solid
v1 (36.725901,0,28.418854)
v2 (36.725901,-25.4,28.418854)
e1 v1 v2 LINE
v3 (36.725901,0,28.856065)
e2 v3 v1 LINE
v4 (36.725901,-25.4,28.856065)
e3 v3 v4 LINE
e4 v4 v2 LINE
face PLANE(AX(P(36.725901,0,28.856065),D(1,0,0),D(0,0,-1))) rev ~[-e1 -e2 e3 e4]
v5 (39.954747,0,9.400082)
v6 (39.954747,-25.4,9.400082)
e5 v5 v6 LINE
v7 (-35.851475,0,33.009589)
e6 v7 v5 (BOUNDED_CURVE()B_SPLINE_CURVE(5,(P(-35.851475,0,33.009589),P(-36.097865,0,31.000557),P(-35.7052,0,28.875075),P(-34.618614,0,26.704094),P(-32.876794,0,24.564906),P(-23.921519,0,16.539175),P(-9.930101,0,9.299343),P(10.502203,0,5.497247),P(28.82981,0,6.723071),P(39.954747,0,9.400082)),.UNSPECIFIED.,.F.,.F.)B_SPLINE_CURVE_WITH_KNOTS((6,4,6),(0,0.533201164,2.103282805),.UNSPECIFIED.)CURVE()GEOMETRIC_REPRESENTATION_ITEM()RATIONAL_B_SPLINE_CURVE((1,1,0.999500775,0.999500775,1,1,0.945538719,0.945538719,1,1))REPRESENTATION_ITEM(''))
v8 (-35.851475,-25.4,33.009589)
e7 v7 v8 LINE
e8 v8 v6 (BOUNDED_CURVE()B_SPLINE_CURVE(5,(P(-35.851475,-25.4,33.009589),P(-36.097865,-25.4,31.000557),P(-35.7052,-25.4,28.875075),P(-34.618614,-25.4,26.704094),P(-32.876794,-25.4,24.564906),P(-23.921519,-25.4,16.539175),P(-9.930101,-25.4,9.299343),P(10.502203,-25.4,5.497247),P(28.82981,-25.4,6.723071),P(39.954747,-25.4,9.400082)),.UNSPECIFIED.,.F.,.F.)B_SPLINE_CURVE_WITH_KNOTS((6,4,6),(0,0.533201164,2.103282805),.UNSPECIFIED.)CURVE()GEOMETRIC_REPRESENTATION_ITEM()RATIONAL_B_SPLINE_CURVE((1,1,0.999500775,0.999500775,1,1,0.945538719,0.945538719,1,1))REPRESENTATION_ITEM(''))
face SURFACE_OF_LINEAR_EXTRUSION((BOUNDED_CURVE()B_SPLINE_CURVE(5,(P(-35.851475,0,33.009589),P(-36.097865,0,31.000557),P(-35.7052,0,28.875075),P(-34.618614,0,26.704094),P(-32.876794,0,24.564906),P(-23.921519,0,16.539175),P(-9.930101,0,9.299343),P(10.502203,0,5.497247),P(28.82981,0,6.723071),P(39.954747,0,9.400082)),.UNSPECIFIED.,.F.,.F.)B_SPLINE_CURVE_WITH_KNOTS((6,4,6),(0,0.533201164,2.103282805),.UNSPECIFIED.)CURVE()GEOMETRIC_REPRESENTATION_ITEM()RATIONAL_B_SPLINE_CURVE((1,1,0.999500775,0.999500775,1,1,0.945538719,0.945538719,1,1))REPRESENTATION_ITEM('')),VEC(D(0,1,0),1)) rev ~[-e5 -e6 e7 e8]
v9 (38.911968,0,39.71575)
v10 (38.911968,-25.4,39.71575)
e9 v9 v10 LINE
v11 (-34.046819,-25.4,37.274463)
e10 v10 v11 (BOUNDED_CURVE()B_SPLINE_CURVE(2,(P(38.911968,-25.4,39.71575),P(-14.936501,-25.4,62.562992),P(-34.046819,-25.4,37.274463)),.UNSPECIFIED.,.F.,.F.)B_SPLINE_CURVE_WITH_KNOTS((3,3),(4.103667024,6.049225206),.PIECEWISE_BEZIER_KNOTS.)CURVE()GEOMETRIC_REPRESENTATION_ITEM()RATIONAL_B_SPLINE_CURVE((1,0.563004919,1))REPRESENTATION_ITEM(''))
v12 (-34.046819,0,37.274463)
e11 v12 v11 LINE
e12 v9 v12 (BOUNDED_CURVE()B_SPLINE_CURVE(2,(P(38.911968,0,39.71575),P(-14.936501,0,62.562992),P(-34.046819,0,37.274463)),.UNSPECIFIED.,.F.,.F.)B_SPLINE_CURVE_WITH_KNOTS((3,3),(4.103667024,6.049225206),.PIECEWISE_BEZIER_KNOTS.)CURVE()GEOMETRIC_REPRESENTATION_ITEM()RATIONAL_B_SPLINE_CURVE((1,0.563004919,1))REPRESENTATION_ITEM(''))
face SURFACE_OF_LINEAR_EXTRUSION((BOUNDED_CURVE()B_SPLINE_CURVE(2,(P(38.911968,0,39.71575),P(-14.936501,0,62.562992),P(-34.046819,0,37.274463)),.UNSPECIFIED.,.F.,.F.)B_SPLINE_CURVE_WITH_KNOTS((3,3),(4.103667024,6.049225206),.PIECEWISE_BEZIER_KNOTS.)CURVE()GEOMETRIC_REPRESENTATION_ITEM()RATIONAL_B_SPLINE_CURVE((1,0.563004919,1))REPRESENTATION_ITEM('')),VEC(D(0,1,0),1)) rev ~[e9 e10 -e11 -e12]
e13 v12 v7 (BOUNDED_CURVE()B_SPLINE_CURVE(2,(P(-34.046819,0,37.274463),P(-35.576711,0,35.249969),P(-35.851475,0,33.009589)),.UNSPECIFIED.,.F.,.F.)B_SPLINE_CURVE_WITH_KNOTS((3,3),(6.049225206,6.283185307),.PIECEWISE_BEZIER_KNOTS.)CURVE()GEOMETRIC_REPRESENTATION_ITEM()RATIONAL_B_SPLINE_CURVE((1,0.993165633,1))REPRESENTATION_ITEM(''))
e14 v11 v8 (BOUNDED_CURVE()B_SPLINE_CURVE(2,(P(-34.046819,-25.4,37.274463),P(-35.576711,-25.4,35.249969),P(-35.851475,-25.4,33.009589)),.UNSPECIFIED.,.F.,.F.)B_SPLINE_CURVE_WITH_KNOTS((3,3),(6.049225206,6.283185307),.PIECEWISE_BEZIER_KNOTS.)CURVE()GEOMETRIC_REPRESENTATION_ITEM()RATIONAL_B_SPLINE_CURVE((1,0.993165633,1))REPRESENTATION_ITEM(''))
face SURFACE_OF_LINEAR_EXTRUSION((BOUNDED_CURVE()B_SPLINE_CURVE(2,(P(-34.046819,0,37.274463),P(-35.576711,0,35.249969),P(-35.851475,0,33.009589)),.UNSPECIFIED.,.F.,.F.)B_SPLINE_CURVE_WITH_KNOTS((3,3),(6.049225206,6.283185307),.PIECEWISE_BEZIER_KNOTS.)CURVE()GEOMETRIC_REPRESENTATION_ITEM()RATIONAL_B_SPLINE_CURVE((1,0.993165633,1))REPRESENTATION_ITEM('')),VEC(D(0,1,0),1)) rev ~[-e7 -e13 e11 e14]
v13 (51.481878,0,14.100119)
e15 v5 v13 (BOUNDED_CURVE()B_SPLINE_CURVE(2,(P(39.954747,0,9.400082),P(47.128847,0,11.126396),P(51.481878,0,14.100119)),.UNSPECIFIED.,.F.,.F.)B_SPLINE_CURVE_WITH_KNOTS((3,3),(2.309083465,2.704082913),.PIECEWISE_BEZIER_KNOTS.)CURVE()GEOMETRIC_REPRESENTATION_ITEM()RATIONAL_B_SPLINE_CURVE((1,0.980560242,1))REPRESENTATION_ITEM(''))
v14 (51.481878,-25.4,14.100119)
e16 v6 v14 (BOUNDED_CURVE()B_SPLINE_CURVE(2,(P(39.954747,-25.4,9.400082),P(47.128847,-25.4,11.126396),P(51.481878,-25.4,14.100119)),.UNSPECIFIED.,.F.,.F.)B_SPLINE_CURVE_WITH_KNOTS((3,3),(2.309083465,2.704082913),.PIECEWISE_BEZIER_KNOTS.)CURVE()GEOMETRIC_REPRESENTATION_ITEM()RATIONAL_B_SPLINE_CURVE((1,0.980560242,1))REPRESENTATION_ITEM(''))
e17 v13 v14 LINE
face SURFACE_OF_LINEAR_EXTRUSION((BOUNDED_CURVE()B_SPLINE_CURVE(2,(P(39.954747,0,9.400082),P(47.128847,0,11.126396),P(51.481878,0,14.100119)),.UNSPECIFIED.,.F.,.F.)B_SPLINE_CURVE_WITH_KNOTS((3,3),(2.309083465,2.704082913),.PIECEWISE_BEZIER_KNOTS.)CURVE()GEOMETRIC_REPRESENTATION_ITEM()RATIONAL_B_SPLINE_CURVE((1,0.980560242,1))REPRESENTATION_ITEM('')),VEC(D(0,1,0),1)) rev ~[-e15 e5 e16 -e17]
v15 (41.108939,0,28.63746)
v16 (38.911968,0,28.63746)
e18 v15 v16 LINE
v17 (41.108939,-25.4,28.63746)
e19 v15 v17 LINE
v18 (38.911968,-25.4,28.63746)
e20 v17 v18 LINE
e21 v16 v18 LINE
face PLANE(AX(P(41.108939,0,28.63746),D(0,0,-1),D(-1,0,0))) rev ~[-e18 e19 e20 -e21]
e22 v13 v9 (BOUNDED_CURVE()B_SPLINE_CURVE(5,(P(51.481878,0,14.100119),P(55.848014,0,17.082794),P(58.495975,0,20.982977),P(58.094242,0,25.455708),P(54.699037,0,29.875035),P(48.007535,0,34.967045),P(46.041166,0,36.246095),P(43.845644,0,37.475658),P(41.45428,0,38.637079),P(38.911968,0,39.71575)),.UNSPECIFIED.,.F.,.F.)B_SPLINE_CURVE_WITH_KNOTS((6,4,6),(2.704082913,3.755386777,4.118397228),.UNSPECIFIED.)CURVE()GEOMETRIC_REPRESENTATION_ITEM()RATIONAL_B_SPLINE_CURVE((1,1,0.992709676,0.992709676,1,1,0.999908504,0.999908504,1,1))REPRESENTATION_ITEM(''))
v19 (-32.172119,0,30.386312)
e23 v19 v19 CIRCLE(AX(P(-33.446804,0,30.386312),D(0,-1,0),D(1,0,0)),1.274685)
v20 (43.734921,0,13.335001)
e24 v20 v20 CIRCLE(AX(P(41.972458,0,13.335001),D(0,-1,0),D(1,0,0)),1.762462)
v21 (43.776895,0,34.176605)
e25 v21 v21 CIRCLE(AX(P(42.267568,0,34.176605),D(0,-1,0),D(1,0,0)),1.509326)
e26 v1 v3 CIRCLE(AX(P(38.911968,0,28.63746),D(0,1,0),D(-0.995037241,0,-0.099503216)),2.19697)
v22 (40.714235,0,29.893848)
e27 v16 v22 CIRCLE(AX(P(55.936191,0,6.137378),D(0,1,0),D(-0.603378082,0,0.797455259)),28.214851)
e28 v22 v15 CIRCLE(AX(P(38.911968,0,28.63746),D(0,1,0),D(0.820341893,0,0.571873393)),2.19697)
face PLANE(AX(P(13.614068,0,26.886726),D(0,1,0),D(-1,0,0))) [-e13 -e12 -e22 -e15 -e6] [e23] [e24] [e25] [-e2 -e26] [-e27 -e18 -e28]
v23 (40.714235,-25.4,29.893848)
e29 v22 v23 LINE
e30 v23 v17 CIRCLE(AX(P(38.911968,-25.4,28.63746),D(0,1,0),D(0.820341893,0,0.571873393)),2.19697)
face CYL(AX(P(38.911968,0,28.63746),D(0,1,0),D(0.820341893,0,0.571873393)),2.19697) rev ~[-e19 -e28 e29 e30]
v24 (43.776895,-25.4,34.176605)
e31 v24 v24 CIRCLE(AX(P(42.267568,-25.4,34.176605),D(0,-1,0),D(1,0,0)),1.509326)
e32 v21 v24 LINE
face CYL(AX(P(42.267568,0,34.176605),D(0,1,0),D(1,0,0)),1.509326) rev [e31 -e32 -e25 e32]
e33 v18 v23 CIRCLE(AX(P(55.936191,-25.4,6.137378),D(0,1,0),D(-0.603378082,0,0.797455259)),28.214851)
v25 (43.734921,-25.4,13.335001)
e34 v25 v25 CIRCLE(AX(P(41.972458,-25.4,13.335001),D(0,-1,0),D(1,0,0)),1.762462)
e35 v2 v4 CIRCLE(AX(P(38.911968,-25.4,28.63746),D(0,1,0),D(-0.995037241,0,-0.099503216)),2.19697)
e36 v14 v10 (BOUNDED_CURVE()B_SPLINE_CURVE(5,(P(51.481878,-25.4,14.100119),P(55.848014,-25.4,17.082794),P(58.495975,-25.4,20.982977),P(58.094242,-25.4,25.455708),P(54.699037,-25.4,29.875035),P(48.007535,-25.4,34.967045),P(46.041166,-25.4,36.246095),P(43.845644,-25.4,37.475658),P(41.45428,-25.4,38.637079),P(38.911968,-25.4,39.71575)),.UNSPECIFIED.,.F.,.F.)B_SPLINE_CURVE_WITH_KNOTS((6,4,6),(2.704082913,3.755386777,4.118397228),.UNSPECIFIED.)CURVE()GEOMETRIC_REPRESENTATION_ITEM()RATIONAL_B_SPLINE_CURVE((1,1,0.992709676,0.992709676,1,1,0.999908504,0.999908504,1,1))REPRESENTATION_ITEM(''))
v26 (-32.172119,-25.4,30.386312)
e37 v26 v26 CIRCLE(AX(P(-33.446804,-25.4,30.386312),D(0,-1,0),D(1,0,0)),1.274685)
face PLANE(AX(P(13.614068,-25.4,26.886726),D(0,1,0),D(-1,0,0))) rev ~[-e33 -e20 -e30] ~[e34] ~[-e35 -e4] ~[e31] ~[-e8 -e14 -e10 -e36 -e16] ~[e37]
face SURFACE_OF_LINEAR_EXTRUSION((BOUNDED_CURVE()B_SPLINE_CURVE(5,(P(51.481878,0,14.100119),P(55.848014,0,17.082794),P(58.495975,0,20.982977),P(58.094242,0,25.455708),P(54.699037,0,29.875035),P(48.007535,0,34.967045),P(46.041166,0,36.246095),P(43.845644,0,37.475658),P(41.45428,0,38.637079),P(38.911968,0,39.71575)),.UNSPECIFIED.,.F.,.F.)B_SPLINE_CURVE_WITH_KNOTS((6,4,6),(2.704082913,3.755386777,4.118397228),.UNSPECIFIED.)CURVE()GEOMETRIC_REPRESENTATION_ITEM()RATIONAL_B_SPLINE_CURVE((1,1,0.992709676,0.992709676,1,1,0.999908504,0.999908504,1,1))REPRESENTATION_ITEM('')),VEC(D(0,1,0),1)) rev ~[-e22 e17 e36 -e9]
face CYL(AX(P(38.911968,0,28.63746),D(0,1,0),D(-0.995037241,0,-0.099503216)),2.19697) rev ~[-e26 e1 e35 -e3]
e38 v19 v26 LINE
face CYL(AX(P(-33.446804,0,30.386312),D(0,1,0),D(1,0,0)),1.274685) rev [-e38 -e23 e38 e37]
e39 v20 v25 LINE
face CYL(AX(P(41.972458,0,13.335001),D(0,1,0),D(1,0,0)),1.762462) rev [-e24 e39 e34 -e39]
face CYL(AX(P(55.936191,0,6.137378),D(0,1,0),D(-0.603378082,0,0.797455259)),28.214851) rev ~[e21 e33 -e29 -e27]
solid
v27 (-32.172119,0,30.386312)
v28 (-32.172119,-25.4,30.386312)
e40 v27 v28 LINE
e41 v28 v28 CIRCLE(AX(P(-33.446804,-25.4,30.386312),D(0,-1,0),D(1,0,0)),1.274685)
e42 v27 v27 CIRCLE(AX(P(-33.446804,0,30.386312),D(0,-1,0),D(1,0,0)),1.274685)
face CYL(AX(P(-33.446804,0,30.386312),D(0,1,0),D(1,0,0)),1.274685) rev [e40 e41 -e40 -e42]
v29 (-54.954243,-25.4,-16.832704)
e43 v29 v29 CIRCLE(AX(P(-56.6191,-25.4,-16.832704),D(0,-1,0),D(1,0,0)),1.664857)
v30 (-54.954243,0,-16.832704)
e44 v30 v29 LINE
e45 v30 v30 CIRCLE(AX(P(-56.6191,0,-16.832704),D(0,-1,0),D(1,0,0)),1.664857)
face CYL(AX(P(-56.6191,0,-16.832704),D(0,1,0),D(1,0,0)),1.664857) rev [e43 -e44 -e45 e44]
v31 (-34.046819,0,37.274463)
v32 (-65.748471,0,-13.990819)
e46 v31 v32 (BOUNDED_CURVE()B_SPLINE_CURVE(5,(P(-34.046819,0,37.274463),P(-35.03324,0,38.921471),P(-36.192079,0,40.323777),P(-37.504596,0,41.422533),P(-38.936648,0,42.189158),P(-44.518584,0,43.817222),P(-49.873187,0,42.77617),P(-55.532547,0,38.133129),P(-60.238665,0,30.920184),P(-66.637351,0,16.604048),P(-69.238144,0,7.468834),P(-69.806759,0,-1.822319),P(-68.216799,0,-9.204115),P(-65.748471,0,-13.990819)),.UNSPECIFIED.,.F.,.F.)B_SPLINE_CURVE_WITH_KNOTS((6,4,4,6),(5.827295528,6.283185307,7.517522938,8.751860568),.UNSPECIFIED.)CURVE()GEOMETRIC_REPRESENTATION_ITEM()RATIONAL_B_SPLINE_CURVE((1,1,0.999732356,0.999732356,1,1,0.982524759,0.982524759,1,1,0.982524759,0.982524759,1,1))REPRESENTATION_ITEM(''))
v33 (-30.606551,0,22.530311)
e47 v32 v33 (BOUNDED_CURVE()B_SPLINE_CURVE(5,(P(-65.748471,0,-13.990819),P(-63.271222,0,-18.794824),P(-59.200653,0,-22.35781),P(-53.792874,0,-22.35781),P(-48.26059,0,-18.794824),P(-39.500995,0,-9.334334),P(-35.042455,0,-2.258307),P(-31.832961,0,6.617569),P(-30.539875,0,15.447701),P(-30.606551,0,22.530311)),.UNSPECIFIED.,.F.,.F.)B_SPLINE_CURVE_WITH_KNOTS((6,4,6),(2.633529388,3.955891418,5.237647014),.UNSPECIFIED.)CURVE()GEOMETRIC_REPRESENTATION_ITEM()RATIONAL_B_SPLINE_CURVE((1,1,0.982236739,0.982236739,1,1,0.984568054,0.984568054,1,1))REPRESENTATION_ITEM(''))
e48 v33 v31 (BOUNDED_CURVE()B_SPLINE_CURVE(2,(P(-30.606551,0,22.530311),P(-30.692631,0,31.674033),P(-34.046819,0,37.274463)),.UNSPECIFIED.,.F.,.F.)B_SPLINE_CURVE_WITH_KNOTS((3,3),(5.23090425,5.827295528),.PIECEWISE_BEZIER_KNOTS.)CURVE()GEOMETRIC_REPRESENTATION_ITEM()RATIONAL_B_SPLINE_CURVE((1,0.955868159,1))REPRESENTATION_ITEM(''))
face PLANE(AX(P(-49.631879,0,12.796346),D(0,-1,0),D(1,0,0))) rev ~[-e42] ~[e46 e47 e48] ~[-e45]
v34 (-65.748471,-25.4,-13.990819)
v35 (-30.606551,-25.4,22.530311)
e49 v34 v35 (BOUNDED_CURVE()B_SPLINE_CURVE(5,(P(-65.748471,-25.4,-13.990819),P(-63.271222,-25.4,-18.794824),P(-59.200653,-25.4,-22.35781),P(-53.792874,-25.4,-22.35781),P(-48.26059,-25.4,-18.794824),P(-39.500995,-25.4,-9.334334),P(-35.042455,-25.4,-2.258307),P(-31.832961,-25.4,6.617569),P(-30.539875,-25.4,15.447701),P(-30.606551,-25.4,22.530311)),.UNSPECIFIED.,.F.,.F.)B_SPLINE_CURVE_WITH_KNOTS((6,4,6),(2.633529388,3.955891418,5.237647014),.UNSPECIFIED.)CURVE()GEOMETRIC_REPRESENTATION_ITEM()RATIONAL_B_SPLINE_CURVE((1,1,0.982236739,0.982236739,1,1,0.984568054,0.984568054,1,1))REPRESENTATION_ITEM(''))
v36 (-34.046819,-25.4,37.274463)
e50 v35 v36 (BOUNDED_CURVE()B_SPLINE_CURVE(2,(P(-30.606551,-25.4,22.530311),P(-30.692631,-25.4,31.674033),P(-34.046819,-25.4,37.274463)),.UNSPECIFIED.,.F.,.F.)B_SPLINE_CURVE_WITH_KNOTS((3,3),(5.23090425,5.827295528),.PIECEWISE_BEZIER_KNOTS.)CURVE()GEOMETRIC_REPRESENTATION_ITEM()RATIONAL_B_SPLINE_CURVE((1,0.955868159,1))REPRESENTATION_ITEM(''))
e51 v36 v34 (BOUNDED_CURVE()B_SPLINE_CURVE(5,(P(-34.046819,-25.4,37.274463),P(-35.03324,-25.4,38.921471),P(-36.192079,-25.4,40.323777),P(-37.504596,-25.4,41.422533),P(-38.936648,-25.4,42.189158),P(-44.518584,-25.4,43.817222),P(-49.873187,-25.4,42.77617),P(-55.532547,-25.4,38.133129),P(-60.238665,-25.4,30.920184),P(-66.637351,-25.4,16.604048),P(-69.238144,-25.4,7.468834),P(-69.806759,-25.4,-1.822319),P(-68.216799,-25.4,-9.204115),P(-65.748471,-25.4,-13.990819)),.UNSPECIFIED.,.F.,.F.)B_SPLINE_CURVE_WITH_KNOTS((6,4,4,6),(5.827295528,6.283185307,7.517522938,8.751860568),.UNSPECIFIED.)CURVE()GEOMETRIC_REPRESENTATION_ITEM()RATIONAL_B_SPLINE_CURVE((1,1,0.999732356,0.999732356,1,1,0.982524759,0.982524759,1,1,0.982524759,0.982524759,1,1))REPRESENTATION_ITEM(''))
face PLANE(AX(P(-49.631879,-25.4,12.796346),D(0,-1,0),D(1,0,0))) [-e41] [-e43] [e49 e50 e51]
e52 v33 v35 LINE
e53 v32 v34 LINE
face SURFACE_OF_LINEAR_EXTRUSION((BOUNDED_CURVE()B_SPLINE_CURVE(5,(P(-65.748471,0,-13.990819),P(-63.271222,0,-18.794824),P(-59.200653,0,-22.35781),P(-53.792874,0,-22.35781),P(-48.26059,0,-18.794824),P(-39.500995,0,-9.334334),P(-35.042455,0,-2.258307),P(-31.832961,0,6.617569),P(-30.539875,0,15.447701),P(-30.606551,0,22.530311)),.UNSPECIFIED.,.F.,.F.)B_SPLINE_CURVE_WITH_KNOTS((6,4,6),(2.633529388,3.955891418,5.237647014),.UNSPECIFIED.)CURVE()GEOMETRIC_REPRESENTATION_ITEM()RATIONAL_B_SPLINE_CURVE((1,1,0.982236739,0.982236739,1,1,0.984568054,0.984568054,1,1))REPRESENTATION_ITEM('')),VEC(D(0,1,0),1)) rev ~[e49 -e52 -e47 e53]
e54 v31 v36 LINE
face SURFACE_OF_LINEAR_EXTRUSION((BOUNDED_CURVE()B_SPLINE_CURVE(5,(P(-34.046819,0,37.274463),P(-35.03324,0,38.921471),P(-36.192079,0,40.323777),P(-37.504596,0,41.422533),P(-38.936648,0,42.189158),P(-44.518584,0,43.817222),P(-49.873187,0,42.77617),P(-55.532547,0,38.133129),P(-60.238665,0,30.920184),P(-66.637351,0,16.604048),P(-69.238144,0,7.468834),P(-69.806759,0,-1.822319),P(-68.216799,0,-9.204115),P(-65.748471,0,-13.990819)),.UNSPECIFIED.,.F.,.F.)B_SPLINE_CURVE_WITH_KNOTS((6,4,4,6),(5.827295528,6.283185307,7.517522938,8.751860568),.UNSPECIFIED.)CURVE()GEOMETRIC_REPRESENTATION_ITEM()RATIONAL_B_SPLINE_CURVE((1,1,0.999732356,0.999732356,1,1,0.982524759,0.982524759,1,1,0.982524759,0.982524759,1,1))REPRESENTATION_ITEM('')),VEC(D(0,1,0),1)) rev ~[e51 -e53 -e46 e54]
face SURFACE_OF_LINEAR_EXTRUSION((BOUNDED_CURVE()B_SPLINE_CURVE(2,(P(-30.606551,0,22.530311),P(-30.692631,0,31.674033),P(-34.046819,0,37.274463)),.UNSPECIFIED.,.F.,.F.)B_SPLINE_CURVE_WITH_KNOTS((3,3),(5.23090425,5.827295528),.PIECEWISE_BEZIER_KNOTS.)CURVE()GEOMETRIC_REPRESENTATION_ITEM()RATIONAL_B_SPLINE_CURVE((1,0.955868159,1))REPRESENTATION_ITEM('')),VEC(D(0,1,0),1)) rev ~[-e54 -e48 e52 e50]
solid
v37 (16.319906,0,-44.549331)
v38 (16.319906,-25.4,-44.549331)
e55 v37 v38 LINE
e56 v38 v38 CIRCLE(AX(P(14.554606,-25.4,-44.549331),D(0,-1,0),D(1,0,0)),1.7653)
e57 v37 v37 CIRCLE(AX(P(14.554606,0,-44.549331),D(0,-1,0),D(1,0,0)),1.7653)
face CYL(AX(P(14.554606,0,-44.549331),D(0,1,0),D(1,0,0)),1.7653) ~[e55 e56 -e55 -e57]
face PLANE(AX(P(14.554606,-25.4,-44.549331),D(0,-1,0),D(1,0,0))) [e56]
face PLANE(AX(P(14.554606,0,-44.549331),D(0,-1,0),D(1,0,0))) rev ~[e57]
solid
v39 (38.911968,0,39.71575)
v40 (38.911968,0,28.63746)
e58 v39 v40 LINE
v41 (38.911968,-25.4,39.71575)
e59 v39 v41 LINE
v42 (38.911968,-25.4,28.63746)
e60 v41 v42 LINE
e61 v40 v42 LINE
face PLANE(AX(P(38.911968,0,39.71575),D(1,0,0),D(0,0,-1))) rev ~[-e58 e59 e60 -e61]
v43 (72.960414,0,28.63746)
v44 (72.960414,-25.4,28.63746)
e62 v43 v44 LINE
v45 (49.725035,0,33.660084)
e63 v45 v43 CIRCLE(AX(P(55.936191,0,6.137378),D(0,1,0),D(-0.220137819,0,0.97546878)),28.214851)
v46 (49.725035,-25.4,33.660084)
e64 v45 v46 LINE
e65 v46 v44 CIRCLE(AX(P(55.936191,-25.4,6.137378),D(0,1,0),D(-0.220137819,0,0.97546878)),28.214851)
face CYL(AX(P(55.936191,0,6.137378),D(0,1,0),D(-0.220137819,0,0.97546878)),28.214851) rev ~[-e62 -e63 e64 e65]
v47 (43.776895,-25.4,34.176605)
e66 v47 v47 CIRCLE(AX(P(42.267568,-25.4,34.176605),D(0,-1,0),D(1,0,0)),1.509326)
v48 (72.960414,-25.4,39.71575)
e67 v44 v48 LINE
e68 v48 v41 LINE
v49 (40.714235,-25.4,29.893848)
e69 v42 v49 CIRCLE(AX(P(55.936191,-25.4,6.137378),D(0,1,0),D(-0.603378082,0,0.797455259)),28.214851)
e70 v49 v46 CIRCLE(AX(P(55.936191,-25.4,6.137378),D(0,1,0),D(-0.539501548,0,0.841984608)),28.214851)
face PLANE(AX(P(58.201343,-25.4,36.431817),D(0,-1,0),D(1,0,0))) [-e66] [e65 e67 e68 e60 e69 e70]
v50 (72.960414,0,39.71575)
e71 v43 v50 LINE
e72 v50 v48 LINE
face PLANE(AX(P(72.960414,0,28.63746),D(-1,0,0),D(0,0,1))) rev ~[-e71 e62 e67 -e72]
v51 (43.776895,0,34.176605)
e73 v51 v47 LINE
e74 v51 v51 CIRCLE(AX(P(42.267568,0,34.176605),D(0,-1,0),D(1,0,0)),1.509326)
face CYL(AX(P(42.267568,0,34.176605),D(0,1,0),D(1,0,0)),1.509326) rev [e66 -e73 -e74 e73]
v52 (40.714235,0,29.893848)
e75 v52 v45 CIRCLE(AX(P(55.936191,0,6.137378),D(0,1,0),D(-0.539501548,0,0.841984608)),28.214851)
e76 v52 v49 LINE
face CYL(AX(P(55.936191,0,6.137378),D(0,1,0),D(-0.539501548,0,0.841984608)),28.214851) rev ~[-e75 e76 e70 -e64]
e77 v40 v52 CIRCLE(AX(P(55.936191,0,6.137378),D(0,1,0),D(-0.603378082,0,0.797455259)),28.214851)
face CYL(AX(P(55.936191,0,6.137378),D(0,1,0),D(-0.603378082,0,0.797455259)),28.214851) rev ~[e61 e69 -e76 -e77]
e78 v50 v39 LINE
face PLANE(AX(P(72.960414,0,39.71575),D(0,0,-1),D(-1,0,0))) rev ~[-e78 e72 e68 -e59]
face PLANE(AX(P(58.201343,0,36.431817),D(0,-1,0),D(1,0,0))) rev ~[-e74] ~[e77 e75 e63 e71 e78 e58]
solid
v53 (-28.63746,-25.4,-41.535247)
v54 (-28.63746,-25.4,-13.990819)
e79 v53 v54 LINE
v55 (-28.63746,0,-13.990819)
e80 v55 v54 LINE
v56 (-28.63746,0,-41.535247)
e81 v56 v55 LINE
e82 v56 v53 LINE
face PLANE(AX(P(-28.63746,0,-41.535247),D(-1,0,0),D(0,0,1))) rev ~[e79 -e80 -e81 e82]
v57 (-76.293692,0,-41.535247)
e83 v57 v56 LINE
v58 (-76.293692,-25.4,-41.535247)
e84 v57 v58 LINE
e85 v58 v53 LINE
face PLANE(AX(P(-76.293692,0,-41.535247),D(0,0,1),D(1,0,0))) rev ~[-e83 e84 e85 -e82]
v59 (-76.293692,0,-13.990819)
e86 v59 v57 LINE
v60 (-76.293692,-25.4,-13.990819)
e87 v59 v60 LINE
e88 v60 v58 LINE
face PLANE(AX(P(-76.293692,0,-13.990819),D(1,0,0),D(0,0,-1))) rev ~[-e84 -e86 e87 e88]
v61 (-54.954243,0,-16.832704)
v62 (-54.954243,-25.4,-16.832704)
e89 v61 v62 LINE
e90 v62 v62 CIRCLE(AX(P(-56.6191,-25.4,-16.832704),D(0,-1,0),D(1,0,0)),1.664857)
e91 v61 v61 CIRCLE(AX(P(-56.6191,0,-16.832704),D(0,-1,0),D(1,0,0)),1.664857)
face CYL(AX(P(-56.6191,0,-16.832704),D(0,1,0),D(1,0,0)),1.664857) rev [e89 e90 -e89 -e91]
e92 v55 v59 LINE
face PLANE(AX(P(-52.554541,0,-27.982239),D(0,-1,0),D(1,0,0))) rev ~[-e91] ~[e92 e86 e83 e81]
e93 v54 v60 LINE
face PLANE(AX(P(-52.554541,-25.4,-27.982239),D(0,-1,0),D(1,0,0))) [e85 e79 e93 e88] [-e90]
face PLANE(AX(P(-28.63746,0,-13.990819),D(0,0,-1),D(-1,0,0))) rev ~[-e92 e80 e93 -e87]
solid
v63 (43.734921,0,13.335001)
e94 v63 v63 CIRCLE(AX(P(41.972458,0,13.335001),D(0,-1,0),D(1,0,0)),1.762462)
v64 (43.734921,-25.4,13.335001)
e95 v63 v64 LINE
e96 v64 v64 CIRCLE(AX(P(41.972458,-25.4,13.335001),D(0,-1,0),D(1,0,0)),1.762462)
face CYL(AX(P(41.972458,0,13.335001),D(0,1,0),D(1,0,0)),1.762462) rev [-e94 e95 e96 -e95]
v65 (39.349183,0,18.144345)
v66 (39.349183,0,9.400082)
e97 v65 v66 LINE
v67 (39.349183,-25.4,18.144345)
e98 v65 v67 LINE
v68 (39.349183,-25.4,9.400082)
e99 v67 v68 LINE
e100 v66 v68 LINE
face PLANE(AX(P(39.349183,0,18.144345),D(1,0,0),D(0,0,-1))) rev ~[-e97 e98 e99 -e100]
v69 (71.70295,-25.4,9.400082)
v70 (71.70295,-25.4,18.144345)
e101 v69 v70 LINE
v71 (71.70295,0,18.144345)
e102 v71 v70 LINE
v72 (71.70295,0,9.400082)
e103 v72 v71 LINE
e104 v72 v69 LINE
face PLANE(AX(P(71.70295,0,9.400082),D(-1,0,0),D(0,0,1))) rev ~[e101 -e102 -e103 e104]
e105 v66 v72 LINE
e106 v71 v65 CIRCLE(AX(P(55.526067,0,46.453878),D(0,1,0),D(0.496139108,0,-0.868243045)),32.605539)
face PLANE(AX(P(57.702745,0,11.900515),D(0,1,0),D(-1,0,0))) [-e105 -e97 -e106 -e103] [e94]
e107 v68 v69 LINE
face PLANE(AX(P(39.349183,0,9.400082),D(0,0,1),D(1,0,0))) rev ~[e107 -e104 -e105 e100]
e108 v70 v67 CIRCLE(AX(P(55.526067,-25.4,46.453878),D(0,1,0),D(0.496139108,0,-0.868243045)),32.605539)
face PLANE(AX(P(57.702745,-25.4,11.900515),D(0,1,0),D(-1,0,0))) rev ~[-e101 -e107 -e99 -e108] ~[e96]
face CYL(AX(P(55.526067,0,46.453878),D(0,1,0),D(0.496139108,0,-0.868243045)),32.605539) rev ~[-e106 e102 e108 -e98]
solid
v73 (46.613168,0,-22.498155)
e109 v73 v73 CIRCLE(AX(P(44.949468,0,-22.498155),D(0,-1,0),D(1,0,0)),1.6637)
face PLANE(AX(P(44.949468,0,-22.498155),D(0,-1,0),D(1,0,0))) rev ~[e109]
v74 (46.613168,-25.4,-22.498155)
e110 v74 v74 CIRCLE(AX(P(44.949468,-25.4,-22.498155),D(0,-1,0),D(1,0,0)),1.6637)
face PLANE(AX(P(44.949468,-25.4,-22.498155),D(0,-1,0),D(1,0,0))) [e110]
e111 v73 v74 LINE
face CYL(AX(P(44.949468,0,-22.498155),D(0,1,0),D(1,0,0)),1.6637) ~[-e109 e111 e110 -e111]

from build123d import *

# Parameters (mm, degrees)
F0_R     = 1.6648574253
F1_DEPTH = 25.4
F0_R_2   = 1.2746846195
F2_DEPTH = 25.4
F0_R_3   = 1.5093262789
F0_R_4   = 1.7624624991
F3_DEPTH = 25.4
F4_DEPTH = 25.4
F5_DEPTH = 25.4
F0_R_5   = 1.6637
F6_DEPTH = 25.4
F0_R_6   = 1.7653
F7_DEPTH = 25.4


with BuildPart() as f1:
    # F0 (on Front) → F1 (new body)
    with BuildSketch(Plane.XZ):
        with BuildLine():
            Line((-65.74847113, -13.9908194542), (-76.2936919928, -13.9908194542))
            Line((-76.2936919928, -13.9908194542), (-76.2936919928, -41.5352471173))
            Line((-76.2936919928, -41.5352471173), (-28.6374595016, -41.5352471173))
            Line((-28.6374595016, -41.5352471173), (-28.6374595016, -13.9908194542))
            Line((-28.6374595016, -13.9908194542), (-43.8124972207, -13.9908194542))
            add(Edge.make_bspline(
                [(-65.74847113, -13.9908194542), (-57.901801116, -29.2074724294), (-43.8124972207, -13.9908194542)],
                knots=[2.6335293878, 2.6335293878, 2.6335293878, 3.9558914178, 3.9558914178, 3.9558914178], degree=2, weights=[1, 0.7892675805, 1]))
        make_face()
        with BuildLine():
            Line((-43.8124972207, -13.9908194542), (-65.74847113, -13.9908194542))
            add(Edge.make_bspline(
                [(-65.74847113, -13.9908194542), (-57.901801116, -29.2074724294), (-43.8124972207, -13.9908194542)],
                knots=[2.6335293878, 2.6335293878, 2.6335293878, 3.9558914178, 3.9558914178, 3.9558914178], degree=2, weights=[1, 0.7892675805, 1]))
        make_face()
        with Locations((-56.6191002727, -16.8327037245)):
            Circle(F0_R, mode=Mode.SUBTRACT)
    extrude(amount=F1_DEPTH)


with BuildPart() as f2:
    # F0 (on Front) → F2 (new body)
    with BuildSketch(Plane.XZ):
        with BuildLine():
            add(Edge.make_bspline(
                [(-40.4422134161, 42.6282808185), (-53.3260877862, 46.3860779386), (-63.4380078396, 23.7621158368), (-73.5499278931, 1.138153735), (-65.74847113, -13.9908194542)],
                knots=[0, 0, 0, 1.3167646939, 1.3167646939, 2.6335293878, 2.6335293878, 2.6335293878], degree=2, weights=[1, 0.7909830078, 1, 0.7909830078, 1]))
            Line((-65.74847113, -13.9908194542), (-43.8124972207, -13.9908194542))
            add(Edge.make_bspline(
                [(-43.8124972207, -13.9908194542), (-30.39911729, 0.4958258156), (-30.6065511, 22.5303112299)],
                knots=[3.9558914178, 3.9558914178, 3.9558914178, 5.2309042501, 5.2309042501, 5.2309042501], degree=2, weights=[1, 0.8035824195, 1]))
            add(Edge.make_bspline(
                [(-35.8514748514, 33.0095887184), (-36.4900093054, 27.8030752059), (-30.6065511, 22.5303112299)],
                knots=[0, 0, 0, 0.5332011637, 0.5332011637, 0.5332011637], degree=2, weights=[1, 0.9646720576, 1]))
            add(Edge.make_bspline(
                [(-34.0468191814, 37.2744625047), (-35.5767113809, 35.2499685643), (-35.8514748514, 33.0095887184)],
                knots=[6.0492252063, 6.0492252063, 6.0492252063, 6.2831853072, 6.2831853072, 6.2831853072], degree=2, weights=[1, 0.9931656329, 1]))
            add(Edge.make_bspline(
                [(-34.0468191814, 37.2744625047), (-36.5783538888, 41.5013216611), (-40.4422134161, 42.6282808185)],
                knots=[5.8272955283, 5.8272955283, 5.8272955283, 6.2831853072, 6.2831853072, 6.2831853072], degree=2, weights=[1, 0.9741328576, 1]))
        make_face()
        with BuildLine():
            Line((-43.8124972207, -13.9908194542), (-65.74847113, -13.9908194542))
            add(Edge.make_bspline(
                [(-65.74847113, -13.9908194542), (-57.901801116, -29.2074724294), (-43.8124972207, -13.9908194542)],
                knots=[2.6335293878, 2.6335293878, 2.6335293878, 3.9558914178, 3.9558914178, 3.9558914178], degree=2, weights=[1, 0.7892675805, 1]))
        make_face()
        with Locations((-56.6191002727, -16.8327037245)):
            Circle(F0_R, mode=Mode.SUBTRACT)
        with BuildLine():
            add(Edge.make_bspline(
                [(-35.8514748514, 33.0095887184), (-36.4900093054, 27.8030752059), (-30.6065511, 22.5303112299)],
                knots=[0, 0, 0, 0.5332011637, 0.5332011637, 0.5332011637], degree=2, weights=[1, 0.9646720576, 1]))
            add(Edge.make_bspline(
                [(-30.6065511, 22.5303112299), (-30.6926305757, 31.6740325446), (-34.0468191814, 37.2744625047)],
                knots=[5.2309042501, 5.2309042501, 5.2309042501, 5.8272955283, 5.8272955283, 5.8272955283], degree=2, weights=[1, 0.9558681588, 1]))
            add(Edge.make_bspline(
                [(-34.0468191814, 37.2744625047), (-35.5767113809, 35.2499685643), (-35.8514748514, 33.0095887184)],
                knots=[6.0492252063, 6.0492252063, 6.0492252063, 6.2831853072, 6.2831853072, 6.2831853072], degree=2, weights=[1, 0.9931656329, 1]))
        make_face()
        with Locations((-33.446803689, 30.3863119334)):
            Circle(F0_R_2, mode=Mode.SUBTRACT)
    extrude(amount=F2_DEPTH)


with BuildPart() as f3:
    # F0 (on Front) → F3 (new body)
    with BuildSketch(Plane.XZ):
        with BuildLine():
            add(Edge.make_bspline(
                [(-30.6065511, 22.5303112299), (-30.6926305757, 31.6740325446), (-34.0468191814, 37.2744625047)],
                knots=[5.2309042501, 5.2309042501, 5.2309042501, 5.8272955283, 5.8272955283, 5.8272955283], degree=2, weights=[1, 0.9558681588, 1]))
            add(Edge.make_bspline(
                [(-30.6065511, 22.5303112299), (-4.1211296506, -1.2059627831), (39.9547474934, 9.4000818208)],
                knots=[0.5332011637, 0.5332011637, 0.5332011637, 2.3090834654, 2.3090834654, 2.3090834654], degree=2, weights=[1, 0.631010565, 1]))
            Line((39.9547474934, 9.4000818208), (39.3491834402, 9.4000818208))
            Line((39.3491834402, 9.4000818208), (39.3491834402, 18.144344911))
            ThreePointArc((39.3491834402, 18.144344911), (45.2153013253, 15.521543233), (51.4818777029, 14.1001185296))
            add(Edge.make_bspline(
                [(51.4818777029, 14.1001185296), (64.1008126468, 22.7205977391), (49.725035443, 33.6600844937)],
                knots=[2.7040829127, 2.7040829127, 2.7040829127, 3.7553867766, 3.7553867766, 3.7553867766], degree=2, weights=[1, 0.864997001, 1]))
            ThreePointArc((49.725035443, 33.6600844937), (45.0554420673, 32.1698025197), (40.7142353585, 29.893848441))
            ThreePointArc((40.7142353585, 29.893848441), (41.0079415351, 29.2959243941), (41.1089389077, 28.6374595016))
            Line((41.1089389077, 28.6374595016), (38.9119684696, 28.6374595016))
            Line((38.9119684696, 28.6374595016), (38.9119684696, 39.715750342))
            add(Edge.make_bspline(
                [(38.9119684696, 39.715750342), (-14.936500743, 62.5629919113), (-34.0468191814, 37.2744625047)],
                knots=[4.1036670243, 4.1036670243, 4.1036670243, 6.0492252063, 6.0492252063, 6.0492252063], degree=2, weights=[1, 0.5630049186, 1]))
        make_face()
        with BuildLine():
            ThreePointArc((36.7259010673, 28.418853879), (36.7149980315, 28.6374595016), (36.7259010673, 28.8560651243))
            Line((36.7259010673, 28.8560651243), (36.7259010673, 28.418853879))
        make_face(mode=Mode.SUBTRACT)
        with BuildLine():
            add(Edge.make_bspline(
                [(-35.8514748514, 33.0095887184), (-36.4900093054, 27.8030752059), (-30.6065511, 22.5303112299)],
                knots=[0, 0, 0, 0.5332011637, 0.5332011637, 0.5332011637], degree=2, weights=[1, 0.9646720576, 1]))
            add(Edge.make_bspline(
                [(-30.6065511, 22.5303112299), (-30.6926305757, 31.6740325446), (-34.0468191814, 37.2744625047)],
                knots=[5.2309042501, 5.2309042501, 5.2309042501, 5.8272955283, 5.8272955283, 5.8272955283], degree=2, weights=[1, 0.9558681588, 1]))
            add(Edge.make_bspline(
                [(-34.0468191814, 37.2744625047), (-35.5767113809, 35.2499685643), (-35.8514748514, 33.0095887184)],
                knots=[6.0492252063, 6.0492252063, 6.0492252063, 6.2831853072, 6.2831853072, 6.2831853072], degree=2, weights=[1, 0.9931656329, 1]))
        make_face()
        with Locations((-33.446803689, 30.3863119334)):
            Circle(F0_R_2, mode=Mode.SUBTRACT)
        with BuildLine():
            add(Edge.make_bspline(
                [(49.725035443, 33.6600844937), (45.3653485598, 36.9776607358), (38.9119684696, 39.715750342)],
                knots=[3.7553867766, 3.7553867766, 3.7553867766, 4.1036670243, 4.1036670243, 4.1036670243], degree=2, weights=[1, 0.9848758863, 1]))
            Line((38.9119684696, 39.715750342), (38.9119684696, 28.6374595016))
            ThreePointArc((38.9119684696, 28.6374595016), (39.8008685688, 29.2832024807), (40.7142353585, 29.893848441))
            ThreePointArc((40.7142353585, 29.893848441), (45.0554420673, 32.1698025197), (49.725035443, 33.6600844937))
        make_face()
        with Locations((42.2675684094, 34.1766049218)):
            Circle(F0_R_3, mode=Mode.SUBTRACT)
        with BuildLine():
            Line((39.3491834402, 9.4000818208), (39.9547474934, 9.4000818208))
            add(Edge.make_bspline(
                [(39.9547474934, 9.4000818208), (47.1288473098, 11.1263962489), (51.4818777029, 14.1001185296)],
                knots=[2.3090834654, 2.3090834654, 2.3090834654, 2.7040829127, 2.7040829127, 2.7040829127], degree=2, weights=[1, 0.9805602422, 1]))
            ThreePointArc((51.4818777029, 14.1001185296), (45.2153013253, 15.521543233), (39.3491834402, 18.144344911))
            Line((39.3491834402, 18.144344911), (39.3491834402, 9.4000818208))
        make_face()
        with Locations((41.9724583626, 13.3350007236)):
            Circle(F0_R_4, mode=Mode.SUBTRACT)
    extrude(amount=F3_DEPTH)


with BuildPart() as f4:
    # F0 (on Front) → F4 (new body)
    with BuildSketch(Plane.XZ):
        with BuildLine():
            add(Edge.make_bspline(
                [(39.9547474934, 9.4000818208), (47.1288473098, 11.1263962489), (51.4818777029, 14.1001185296)],
                knots=[2.3090834654, 2.3090834654, 2.3090834654, 2.7040829127, 2.7040829127, 2.7040829127], degree=2, weights=[1, 0.9805602422, 1]))
            Line((39.9547474934, 9.4000818208), (71.7029497027, 9.4000818208))
            Line((71.7029497027, 9.4000818208), (71.7029497027, 18.144344911))
            ThreePointArc((71.7029497027, 18.144344911), (61.9205571121, 14.4815195348), (51.4818777029, 14.1001185296))
        make_face()
        with BuildLine():
            Line((39.3491834402, 9.4000818208), (39.9547474934, 9.4000818208))
            add(Edge.make_bspline(
                [(39.9547474934, 9.4000818208), (47.1288473098, 11.1263962489), (51.4818777029, 14.1001185296)],
                knots=[2.3090834654, 2.3090834654, 2.3090834654, 2.7040829127, 2.7040829127, 2.7040829127], degree=2, weights=[1, 0.9805602422, 1]))
            ThreePointArc((51.4818777029, 14.1001185296), (45.2153013253, 15.521543233), (39.3491834402, 18.144344911))
            Line((39.3491834402, 18.144344911), (39.3491834402, 9.4000818208))
        make_face()
        with Locations((41.9724583626, 13.3350007236)):
            Circle(F0_R_4, mode=Mode.SUBTRACT)
    extrude(amount=F4_DEPTH)


with BuildPart() as f5:
    # F0 (on Front) → F5 (new body)
    with BuildSketch(Plane.XZ):
        with BuildLine():
            Line((72.9604139924, 39.715750342), (38.9119684696, 39.715750342))
            add(Edge.make_bspline(
                [(49.725035443, 33.6600844937), (45.3653485598, 36.9776607358), (38.9119684696, 39.715750342)],
                knots=[3.7553867766, 3.7553867766, 3.7553867766, 4.1036670243, 4.1036670243, 4.1036670243], degree=2, weights=[1, 0.9848758863, 1]))
            ThreePointArc((49.725035443, 33.6600844937), (61.8975077631, 33.7152773793), (72.9604139924, 28.6374595016))
            Line((72.9604139924, 28.6374595016), (72.9604139924, 39.715750342))
        make_face()
        with BuildLine():
            add(Edge.make_bspline(
                [(49.725035443, 33.6600844937), (45.3653485598, 36.9776607358), (38.9119684696, 39.715750342)],
                knots=[3.7553867766, 3.7553867766, 3.7553867766, 4.1036670243, 4.1036670243, 4.1036670243], degree=2, weights=[1, 0.9848758863, 1]))
            Line((38.9119684696, 39.715750342), (38.9119684696, 28.6374595016))
            ThreePointArc((38.9119684696, 28.6374595016), (39.8008685688, 29.2832024807), (40.7142353585, 29.893848441))
            ThreePointArc((40.7142353585, 29.893848441), (45.0554420673, 32.1698025197), (49.725035443, 33.6600844937))
        make_face()
        with Locations((42.2675684094, 34.1766049218)):
            Circle(F0_R_3, mode=Mode.SUBTRACT)
    extrude(amount=F5_DEPTH)


with BuildPart() as f6:
    # F0 (on Front) → F6 (new body)
    with BuildSketch(Plane.XZ):
        with Locations((44.9494682252, -22.4981550127)):
            Circle(F0_R_5)
    extrude(amount=F6_DEPTH)


with BuildPart() as f7:
    # F0 (on Front) → F7 (new body)
    with BuildSketch(Plane.XZ):
        with Locations((14.5546058193, -44.549331069)):
            Circle(F0_R_6)
    extrude(amount=F7_DEPTH)


solid = Compound([f1.part, f2.part, f3.part, f4.part, f5.part, f6.part, f7.part])
